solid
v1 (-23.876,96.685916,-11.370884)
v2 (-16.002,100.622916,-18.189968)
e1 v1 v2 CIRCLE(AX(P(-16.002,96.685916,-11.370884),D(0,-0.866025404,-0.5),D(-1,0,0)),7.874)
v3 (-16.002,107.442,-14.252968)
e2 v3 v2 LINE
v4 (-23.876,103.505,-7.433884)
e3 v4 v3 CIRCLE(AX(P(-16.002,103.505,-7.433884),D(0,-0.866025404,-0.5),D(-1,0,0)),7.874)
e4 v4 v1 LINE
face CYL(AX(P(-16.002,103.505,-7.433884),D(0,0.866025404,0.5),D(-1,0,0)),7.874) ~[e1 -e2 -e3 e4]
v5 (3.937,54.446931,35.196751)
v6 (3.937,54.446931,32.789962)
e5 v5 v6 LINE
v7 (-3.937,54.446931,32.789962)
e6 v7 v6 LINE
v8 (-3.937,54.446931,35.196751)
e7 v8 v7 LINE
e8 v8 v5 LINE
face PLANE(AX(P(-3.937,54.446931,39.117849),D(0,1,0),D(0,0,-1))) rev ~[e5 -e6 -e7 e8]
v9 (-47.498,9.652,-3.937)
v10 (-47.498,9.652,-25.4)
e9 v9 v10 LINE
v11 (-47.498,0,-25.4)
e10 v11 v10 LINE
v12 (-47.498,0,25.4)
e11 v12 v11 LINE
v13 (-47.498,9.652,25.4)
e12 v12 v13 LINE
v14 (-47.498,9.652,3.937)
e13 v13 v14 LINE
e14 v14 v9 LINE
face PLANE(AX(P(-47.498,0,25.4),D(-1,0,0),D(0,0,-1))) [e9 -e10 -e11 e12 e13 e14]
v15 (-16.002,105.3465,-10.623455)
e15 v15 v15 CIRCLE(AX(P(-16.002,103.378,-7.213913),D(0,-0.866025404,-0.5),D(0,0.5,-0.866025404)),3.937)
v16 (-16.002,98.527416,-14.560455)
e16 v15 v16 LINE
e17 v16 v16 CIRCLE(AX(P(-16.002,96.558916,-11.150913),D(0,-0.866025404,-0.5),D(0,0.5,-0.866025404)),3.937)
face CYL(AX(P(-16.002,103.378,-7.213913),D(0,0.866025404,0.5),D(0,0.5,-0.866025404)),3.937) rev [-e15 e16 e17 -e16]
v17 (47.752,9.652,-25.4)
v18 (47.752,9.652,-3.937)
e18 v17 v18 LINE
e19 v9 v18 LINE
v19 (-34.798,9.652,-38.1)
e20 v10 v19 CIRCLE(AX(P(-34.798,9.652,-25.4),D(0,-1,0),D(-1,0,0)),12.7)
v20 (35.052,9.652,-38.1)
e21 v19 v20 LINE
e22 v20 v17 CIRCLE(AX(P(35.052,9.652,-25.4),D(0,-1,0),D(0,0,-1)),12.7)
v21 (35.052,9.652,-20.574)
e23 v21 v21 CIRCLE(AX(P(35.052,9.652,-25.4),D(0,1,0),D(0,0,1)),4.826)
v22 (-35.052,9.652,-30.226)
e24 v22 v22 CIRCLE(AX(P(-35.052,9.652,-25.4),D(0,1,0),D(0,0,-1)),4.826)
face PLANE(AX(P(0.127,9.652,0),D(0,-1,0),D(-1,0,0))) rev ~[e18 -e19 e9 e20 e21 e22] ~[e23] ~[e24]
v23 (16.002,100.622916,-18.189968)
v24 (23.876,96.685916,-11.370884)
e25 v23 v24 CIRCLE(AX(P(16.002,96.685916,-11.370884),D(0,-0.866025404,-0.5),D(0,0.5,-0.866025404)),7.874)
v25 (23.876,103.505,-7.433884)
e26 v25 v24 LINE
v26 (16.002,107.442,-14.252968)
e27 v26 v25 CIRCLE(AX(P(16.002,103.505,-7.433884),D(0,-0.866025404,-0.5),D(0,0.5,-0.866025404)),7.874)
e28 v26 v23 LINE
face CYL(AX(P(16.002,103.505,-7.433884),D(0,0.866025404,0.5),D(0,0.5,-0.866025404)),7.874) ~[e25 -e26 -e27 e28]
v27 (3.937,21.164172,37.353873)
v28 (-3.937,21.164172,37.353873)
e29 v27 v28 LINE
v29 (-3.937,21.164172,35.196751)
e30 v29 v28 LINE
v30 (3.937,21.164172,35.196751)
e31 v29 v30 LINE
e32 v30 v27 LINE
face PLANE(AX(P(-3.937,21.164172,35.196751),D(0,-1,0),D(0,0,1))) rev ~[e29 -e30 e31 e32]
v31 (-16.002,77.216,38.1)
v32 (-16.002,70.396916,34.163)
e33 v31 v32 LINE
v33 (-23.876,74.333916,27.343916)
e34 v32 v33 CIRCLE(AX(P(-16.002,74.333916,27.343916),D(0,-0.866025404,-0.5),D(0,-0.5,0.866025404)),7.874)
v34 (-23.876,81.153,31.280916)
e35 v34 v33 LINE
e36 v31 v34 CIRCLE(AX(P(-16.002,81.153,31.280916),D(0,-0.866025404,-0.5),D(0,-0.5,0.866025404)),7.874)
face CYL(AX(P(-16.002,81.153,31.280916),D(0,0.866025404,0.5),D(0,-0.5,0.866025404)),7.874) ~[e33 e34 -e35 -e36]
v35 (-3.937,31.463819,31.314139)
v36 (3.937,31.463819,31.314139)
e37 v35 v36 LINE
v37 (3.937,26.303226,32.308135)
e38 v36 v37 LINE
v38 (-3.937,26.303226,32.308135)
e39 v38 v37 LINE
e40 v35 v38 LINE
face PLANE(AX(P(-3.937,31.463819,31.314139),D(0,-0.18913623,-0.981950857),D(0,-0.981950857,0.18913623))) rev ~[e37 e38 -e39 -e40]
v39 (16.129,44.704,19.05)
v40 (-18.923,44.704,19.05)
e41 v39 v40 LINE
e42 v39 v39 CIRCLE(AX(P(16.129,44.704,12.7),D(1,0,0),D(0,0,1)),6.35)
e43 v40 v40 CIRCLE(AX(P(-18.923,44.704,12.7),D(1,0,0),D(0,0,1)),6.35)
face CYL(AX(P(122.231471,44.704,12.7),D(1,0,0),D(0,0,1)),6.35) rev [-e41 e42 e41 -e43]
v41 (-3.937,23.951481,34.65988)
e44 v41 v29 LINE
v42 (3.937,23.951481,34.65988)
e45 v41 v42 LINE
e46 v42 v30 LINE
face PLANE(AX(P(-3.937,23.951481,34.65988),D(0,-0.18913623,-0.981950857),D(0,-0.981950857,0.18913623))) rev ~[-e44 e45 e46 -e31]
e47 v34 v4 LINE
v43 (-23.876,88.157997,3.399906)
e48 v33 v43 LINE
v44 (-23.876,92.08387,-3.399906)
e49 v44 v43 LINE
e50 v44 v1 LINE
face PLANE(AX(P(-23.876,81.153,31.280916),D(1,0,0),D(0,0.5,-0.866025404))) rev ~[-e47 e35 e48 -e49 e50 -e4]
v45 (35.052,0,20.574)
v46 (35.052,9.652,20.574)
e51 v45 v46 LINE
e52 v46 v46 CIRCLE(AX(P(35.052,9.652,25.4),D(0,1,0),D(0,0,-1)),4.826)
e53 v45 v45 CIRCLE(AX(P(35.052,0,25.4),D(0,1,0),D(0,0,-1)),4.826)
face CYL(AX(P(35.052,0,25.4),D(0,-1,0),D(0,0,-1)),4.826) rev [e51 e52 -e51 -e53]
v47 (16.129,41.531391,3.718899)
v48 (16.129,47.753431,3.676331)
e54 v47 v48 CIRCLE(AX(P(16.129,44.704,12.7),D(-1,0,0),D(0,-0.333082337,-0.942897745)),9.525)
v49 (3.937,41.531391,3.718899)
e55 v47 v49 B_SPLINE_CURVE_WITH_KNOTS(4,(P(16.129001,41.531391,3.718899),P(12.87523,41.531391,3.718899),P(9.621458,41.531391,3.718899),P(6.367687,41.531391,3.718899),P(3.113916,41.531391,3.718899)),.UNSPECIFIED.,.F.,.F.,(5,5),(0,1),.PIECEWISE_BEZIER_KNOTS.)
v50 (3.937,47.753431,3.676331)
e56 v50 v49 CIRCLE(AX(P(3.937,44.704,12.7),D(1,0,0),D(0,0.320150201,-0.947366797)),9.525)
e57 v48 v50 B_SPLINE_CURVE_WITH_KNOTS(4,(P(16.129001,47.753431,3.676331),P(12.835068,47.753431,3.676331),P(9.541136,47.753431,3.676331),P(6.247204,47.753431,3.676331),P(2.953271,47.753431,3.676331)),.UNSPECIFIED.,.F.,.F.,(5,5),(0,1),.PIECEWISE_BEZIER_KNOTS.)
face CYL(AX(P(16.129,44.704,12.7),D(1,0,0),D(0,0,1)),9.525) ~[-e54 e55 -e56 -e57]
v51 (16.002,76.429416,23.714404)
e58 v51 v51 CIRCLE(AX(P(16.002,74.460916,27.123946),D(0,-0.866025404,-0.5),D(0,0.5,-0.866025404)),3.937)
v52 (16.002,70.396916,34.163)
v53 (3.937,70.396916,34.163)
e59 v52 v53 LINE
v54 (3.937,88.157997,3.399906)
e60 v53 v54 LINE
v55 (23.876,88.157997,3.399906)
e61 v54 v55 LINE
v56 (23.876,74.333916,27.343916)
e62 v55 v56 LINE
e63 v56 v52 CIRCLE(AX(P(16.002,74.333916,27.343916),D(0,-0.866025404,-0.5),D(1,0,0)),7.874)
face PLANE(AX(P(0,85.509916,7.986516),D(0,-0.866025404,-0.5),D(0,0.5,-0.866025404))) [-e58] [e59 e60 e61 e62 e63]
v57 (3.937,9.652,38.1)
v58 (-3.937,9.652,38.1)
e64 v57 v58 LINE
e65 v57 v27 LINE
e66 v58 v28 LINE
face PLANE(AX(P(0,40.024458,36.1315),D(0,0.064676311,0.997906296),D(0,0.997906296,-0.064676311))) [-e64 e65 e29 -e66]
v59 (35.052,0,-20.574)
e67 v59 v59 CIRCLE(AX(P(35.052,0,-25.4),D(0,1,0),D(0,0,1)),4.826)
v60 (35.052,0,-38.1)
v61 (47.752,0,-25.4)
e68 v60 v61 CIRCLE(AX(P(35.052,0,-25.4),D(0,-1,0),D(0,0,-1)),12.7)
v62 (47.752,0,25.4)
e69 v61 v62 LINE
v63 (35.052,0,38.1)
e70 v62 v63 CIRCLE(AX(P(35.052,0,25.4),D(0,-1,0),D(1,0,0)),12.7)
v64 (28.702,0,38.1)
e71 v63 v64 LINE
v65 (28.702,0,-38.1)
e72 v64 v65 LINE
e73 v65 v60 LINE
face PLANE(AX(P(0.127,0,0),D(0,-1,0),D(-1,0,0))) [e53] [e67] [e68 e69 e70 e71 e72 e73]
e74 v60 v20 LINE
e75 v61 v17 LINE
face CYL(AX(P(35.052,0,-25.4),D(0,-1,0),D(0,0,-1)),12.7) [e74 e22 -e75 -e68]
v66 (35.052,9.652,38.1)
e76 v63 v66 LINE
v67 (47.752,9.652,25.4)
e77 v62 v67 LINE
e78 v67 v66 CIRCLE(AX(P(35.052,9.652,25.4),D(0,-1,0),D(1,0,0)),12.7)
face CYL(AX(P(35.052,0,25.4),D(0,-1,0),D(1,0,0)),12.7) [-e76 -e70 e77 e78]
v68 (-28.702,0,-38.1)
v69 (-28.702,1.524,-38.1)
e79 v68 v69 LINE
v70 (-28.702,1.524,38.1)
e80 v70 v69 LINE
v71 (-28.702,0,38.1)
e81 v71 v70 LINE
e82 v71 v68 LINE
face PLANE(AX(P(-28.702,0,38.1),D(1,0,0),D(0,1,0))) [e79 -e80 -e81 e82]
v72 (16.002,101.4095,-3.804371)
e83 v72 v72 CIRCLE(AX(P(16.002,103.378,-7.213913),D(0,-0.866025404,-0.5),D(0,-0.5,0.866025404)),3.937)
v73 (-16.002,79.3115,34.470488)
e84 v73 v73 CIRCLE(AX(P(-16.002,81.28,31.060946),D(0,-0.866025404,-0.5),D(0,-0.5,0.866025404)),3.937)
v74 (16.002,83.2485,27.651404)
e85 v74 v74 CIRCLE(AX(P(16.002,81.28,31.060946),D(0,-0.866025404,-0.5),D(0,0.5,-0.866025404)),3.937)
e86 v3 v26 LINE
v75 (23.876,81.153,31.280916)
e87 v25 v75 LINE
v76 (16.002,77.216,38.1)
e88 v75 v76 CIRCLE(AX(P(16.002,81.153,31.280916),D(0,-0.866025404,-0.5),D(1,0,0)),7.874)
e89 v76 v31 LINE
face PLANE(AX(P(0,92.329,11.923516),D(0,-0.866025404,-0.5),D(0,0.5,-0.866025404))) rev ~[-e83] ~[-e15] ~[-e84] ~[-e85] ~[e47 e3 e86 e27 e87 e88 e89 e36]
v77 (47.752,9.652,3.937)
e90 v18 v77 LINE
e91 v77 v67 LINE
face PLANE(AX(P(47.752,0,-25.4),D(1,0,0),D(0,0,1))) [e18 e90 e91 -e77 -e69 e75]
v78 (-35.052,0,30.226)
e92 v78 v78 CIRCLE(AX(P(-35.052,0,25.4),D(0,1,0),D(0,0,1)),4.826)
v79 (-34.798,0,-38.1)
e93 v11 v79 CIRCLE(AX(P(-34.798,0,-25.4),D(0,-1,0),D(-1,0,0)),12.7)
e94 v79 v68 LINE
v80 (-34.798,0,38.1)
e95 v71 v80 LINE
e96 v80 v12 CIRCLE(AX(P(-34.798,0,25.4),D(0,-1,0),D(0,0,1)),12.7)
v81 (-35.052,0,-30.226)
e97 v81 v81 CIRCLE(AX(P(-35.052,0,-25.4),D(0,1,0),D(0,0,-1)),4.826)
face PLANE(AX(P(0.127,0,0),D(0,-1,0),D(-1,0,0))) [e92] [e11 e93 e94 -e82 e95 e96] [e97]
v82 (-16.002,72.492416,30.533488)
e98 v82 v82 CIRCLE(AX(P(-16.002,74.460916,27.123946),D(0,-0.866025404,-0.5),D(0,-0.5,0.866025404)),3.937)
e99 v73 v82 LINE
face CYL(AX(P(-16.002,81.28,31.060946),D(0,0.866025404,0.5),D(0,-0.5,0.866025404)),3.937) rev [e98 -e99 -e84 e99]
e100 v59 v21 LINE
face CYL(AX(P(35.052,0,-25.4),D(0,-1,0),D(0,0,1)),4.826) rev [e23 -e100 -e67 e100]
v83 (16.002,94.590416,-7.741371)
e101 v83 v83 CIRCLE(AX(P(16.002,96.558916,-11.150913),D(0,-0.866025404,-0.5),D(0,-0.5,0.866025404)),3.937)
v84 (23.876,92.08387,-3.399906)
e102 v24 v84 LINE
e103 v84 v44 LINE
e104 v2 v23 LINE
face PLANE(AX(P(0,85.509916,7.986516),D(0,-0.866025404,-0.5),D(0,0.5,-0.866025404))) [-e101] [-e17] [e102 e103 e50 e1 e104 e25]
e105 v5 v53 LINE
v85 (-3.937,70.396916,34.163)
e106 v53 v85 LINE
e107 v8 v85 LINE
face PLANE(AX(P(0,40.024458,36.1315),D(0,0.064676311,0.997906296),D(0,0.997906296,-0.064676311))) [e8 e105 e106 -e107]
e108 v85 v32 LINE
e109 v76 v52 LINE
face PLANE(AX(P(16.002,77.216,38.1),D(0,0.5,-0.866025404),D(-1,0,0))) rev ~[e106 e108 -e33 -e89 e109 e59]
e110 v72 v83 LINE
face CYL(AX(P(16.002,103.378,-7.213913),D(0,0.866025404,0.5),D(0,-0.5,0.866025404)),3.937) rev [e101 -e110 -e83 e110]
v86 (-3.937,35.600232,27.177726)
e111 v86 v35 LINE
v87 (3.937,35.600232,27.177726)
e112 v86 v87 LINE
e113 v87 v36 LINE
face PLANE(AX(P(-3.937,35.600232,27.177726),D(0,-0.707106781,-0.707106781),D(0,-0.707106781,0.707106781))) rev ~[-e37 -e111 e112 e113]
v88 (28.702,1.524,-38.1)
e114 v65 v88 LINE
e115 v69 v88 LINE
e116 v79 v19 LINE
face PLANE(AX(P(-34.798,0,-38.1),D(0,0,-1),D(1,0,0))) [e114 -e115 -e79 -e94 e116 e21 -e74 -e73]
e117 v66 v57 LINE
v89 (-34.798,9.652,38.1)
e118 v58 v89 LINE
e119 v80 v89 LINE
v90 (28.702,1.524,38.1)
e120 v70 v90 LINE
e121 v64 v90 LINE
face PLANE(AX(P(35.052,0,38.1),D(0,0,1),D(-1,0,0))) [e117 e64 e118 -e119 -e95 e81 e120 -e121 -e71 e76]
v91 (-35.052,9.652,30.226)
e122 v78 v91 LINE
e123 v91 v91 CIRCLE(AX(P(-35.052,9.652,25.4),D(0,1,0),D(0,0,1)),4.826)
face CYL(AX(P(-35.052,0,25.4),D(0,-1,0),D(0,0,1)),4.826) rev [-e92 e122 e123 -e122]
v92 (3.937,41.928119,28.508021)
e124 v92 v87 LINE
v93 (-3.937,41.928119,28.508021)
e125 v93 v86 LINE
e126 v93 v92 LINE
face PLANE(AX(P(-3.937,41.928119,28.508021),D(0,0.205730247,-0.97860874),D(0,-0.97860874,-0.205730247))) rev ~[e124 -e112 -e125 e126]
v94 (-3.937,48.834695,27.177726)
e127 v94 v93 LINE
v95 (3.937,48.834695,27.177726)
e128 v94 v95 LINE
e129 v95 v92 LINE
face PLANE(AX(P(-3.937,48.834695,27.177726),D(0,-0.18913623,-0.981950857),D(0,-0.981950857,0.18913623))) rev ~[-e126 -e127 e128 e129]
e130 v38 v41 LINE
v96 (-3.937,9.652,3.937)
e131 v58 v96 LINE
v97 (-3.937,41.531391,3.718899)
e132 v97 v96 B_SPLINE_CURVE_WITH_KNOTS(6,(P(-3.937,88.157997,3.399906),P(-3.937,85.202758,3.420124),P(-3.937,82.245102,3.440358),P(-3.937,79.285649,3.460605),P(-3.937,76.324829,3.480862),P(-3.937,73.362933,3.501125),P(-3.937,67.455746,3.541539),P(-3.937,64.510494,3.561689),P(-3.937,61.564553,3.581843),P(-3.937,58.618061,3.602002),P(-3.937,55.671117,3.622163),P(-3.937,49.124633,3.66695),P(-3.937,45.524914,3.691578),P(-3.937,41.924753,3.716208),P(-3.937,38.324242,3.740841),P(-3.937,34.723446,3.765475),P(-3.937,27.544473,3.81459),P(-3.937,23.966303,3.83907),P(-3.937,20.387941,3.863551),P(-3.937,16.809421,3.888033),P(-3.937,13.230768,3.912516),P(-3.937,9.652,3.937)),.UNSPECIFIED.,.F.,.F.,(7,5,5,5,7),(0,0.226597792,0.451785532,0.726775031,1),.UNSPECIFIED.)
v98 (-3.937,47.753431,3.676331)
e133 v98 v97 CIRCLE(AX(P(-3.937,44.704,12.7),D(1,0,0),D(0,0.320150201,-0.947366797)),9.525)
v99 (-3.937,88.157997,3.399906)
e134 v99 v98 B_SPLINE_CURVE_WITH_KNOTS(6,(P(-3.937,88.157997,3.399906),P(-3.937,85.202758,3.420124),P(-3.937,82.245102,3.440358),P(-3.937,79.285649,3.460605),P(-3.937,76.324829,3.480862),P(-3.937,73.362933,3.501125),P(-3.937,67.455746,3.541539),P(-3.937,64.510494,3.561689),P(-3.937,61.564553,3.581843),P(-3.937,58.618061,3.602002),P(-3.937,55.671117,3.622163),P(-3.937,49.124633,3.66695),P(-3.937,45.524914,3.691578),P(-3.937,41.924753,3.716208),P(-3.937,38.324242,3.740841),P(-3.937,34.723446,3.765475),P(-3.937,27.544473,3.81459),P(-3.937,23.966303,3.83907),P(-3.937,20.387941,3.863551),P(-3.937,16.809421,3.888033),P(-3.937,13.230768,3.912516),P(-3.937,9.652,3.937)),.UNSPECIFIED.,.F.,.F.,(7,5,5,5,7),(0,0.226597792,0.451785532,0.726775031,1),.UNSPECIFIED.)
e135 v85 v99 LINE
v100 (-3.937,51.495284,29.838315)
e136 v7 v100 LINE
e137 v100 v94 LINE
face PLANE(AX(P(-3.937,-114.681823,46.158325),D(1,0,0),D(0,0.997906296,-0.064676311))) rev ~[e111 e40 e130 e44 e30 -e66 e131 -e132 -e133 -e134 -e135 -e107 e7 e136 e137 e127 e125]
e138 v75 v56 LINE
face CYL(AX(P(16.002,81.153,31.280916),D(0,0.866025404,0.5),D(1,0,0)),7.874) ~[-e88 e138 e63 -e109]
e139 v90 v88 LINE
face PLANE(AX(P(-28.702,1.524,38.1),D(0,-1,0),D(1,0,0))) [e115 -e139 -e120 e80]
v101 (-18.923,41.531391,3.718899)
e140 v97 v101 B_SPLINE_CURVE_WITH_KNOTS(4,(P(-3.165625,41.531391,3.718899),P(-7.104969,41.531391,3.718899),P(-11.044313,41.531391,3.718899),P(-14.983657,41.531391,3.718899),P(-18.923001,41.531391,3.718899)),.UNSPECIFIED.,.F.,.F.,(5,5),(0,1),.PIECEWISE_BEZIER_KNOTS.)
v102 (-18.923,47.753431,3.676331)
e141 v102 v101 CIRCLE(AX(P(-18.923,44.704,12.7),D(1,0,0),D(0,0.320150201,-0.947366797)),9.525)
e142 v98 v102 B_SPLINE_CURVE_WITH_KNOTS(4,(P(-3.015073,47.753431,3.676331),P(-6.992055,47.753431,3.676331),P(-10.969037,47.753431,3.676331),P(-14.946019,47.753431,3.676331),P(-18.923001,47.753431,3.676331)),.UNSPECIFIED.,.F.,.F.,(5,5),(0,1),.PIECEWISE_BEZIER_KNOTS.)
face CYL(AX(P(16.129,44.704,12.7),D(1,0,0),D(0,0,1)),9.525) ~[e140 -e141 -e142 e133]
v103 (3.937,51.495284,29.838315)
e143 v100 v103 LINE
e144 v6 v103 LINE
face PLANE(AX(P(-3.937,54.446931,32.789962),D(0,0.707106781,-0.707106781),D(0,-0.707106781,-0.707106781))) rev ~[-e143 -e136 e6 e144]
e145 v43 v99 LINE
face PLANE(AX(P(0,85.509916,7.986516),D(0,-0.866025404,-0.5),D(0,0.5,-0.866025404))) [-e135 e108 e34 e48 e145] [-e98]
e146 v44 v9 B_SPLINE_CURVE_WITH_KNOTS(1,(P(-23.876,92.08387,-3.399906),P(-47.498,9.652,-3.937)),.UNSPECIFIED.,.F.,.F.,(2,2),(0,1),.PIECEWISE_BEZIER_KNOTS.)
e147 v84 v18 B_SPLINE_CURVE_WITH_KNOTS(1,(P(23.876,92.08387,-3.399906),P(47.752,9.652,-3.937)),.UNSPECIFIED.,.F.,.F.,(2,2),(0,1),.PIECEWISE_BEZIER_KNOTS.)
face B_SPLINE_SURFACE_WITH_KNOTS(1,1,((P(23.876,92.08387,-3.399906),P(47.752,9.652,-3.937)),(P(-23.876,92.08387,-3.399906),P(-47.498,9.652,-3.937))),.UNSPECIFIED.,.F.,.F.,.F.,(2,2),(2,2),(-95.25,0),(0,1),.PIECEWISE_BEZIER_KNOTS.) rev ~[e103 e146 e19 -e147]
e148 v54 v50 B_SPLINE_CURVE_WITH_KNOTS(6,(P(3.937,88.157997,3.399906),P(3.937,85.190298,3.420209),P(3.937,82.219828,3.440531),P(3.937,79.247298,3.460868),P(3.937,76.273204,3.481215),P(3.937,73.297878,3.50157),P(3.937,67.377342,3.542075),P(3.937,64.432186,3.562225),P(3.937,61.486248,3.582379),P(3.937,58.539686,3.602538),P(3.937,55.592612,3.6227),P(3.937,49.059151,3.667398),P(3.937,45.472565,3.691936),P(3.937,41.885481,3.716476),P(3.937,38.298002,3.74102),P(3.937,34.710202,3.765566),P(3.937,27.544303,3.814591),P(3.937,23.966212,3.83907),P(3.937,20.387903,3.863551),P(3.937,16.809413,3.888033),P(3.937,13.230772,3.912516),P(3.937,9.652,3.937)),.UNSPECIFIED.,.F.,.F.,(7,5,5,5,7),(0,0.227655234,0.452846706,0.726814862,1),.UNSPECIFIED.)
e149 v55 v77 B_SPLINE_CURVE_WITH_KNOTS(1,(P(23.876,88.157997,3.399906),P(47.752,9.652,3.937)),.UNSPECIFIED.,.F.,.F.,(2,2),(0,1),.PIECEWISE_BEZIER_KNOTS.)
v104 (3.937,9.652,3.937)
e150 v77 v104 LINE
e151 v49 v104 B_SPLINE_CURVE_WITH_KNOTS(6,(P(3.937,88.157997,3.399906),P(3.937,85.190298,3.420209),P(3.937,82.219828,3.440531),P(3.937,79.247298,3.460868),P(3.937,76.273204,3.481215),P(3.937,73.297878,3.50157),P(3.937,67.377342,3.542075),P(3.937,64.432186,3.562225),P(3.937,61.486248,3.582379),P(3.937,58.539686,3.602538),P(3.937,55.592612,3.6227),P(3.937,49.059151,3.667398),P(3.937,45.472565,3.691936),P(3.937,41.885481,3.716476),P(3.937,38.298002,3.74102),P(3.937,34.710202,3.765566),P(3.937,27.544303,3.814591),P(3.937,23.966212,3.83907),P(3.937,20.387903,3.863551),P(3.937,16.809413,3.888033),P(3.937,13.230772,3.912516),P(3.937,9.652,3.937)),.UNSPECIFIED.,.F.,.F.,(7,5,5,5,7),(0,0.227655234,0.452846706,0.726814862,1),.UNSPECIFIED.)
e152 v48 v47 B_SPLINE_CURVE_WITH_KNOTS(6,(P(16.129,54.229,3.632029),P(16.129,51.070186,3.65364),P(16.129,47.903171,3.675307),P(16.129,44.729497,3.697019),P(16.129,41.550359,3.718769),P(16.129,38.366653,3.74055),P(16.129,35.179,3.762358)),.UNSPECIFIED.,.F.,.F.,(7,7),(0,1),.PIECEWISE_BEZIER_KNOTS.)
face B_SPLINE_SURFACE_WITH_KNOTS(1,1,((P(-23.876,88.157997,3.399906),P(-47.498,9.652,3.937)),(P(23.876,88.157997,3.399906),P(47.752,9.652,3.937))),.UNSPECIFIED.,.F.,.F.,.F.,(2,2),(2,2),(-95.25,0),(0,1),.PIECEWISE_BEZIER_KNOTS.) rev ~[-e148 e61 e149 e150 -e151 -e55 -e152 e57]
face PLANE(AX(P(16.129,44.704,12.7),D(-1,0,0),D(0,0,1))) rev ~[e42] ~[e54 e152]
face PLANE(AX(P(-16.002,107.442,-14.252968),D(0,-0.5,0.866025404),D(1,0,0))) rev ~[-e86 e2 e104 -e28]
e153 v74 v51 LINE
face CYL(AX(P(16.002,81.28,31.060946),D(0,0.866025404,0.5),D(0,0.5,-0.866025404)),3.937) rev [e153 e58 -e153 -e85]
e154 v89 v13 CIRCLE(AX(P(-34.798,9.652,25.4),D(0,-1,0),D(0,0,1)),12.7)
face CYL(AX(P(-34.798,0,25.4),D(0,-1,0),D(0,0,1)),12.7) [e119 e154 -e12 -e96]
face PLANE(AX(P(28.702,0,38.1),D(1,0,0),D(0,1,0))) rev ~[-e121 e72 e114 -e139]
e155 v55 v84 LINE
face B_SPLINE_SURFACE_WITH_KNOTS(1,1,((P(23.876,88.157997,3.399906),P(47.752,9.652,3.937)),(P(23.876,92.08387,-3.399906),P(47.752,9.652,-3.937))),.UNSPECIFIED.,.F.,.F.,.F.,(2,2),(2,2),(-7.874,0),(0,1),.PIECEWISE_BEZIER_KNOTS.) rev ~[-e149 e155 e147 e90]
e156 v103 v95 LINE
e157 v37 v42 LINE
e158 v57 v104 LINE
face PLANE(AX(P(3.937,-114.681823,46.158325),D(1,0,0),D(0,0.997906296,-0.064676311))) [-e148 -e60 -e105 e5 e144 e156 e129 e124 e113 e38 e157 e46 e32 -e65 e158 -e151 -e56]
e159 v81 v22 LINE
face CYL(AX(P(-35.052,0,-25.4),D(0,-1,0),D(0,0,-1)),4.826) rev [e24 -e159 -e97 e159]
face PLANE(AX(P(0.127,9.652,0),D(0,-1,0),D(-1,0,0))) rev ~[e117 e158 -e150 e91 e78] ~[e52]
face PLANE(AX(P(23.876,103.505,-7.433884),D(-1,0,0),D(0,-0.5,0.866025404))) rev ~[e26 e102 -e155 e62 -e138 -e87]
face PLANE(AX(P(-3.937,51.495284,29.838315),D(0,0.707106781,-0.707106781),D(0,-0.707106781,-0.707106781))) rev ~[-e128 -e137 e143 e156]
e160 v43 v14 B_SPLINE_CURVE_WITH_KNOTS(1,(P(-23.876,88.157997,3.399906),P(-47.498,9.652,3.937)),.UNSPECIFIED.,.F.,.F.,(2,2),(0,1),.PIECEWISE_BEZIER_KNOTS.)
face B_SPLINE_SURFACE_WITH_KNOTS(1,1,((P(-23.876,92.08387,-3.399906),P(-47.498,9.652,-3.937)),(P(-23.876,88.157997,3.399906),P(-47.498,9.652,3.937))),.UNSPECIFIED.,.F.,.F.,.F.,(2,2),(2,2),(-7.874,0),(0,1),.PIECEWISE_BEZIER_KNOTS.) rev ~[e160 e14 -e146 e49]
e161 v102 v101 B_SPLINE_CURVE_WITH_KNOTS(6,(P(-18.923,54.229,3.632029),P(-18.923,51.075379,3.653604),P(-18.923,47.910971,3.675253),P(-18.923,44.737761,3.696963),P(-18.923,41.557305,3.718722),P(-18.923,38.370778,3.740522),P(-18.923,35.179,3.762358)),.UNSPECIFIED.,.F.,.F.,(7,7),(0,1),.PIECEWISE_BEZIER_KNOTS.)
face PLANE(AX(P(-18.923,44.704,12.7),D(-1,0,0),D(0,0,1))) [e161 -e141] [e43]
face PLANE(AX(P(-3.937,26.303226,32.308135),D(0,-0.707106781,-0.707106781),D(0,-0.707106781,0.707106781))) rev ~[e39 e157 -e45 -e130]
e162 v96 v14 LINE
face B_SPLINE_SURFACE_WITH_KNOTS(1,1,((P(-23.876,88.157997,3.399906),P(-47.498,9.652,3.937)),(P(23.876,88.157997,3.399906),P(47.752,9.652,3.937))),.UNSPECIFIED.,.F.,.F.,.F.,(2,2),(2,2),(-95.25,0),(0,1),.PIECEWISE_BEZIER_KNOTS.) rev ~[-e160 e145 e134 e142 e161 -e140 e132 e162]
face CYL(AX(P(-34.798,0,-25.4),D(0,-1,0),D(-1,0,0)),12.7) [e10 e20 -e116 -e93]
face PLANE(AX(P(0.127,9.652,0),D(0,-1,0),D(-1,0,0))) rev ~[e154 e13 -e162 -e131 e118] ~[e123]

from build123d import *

# Parameters (mm, degrees)
SKETCH2_R                = 4.826
BOSS_EXTRUDE1_DEPTH      = 9.652
CUT_EXTRUDE1_REACH       = 92.443
SKETCH4_W                = 57.404
SKETCH4_H                = 1.524
SKETCH7_R                = 3.937
BOSS_EXTRUDE2_DEPTH      = 7.874
RIB1_REACH               = 125.595
SKETCH11_WALL_W          = 310.061740512
SKETCH11_WALL_H          = 7.874
BOSS_EXTRUDE3_DEPTH      = 14.986
BOSS_EXTRUDE3_DEPTH_BACK = 20.066
SKETCH12_R               = 9.525
CUT_EXTRUDE2_DEPTH       = 126.168470882
CUT_EXTRUDE2_DEPTH_BACK  = 126.168470882
SKETCH12_3_R             = 6.35
CUT_EXTRUDE3_REACH       = 127.168


with BuildPart() as part:
    # Sketch2 → Boss-Extrude1 (new body)
    with BuildSketch(Plane(origin=(0, 0, 0), x_dir=(1, 0, 0), z_dir=(0, 1, 0))):
        with BuildLine():
            Line((35.052, -38.1), (-34.798, -38.1))
            ThreePointArc((-34.798, -38.1), (-43.778256121, -34.380256121), (-47.498, -25.4))
            Line((-47.498, -25.4), (-47.498, 25.4))
            ThreePointArc((-47.498, 25.4), (-43.778256121, 34.380256121), (-34.798, 38.1))
            Line((-34.798, 38.1), (35.052, 38.1))
            ThreePointArc((35.052, 38.1), (44.032256121, 34.380256121), (47.752, 25.4))
            Line((47.752, 25.4), (47.752, -25.4))
            ThreePointArc((47.752, -25.4), (44.032256121, -34.380256121), (35.052, -38.1))
        make_face()
        with Locations((35.052, 25.4)):
            Circle(SKETCH2_R, mode=Mode.SUBTRACT)
        with Locations((35.052, -25.4)):
            Circle(SKETCH2_R, mode=Mode.SUBTRACT)
        with Locations((-35.052, -25.4)):
            Circle(SKETCH2_R, mode=Mode.SUBTRACT)
        with Locations((-35.052, 25.4)):
            Circle(SKETCH2_R, mode=Mode.SUBTRACT)
    extrude(amount=BOSS_EXTRUDE1_DEPTH)

    # Sketch4 → Cut-Extrude1 (cut, up to next)
    with BuildSketch(Plane.XY.offset(38.1), mode=Mode.PRIVATE) as cut_extrude1_sk1:
        with Locations((0, 0.762)):
            Rectangle(SKETCH4_W, SKETCH4_H)
    cut_extrude1_tool1 = extrude(cut_extrude1_sk1.sketch, amount=-CUT_EXTRUDE1_REACH, mode=Mode.PRIVATE) & part.part
    add(cut_extrude1_tool1.solids().sort_by_distance((0, 0.762, 38.1))[0], mode=Mode.SUBTRACT)



with BuildPart() as body_2:
    # Sketch7 → Boss-Extrude2 (new body)
    with BuildSketch(Plane(origin=(0, 74.409783942, 42.960508789), x_dir=(0, 0.499999999999998, -0.8660254037844398), z_dir=(0, -0.8660254037844398, -0.499999999999998))):
        with BuildLine():
            Line((13.486432116, -23.876), (58.190432116, -23.876))
            ThreePointArc((58.190432116, -23.876), (63.758190911, -21.569758795), (66.064432116, -16.002))
            Line((66.064432116, -16.002), (66.064432116, 16.002))
            ThreePointArc((66.064432116, 16.002), (63.758190911, 21.569758795), (58.190432116, 23.876))
            Line((58.190432116, 23.876), (13.486432116, 23.876))
            ThreePointArc((13.486432116, 23.876), (7.918673321, 21.569758795), (5.612432116, 16.002))
            Line((5.612432116, 16.002), (5.612432116, -16.002))
            ThreePointArc((5.612432116, -16.002), (7.918673321, -21.569758795), (13.486432116, -23.876))
        make_face()
        with Locations((13.740432116, 16.002)):
            Circle(SKETCH7_R, mode=Mode.SUBTRACT)
        with Locations((13.740432116, -16.002)):
            Circle(SKETCH7_R, mode=Mode.SUBTRACT)
        with Locations((57.936432116, -16.002)):
            Circle(SKETCH7_R, mode=Mode.SUBTRACT)
        with Locations((57.936432116, 16.002)):
            Circle(SKETCH7_R, mode=Mode.SUBTRACT)
    extrude(amount=BOSS_EXTRUDE2_DEPTH)


with BuildPart() as part_1:
    add(part.part)

    add(body_2.part)  # Loft1 merges body 2
    # Sketch10 → Loft1 section 0
    with BuildSketch(Plane(origin=(0, 67.590699913, 39.023508789), x_dir=(1, 0, 0), z_dir=(0, -0.8660254037844398, -0.49999999999999806))):
        with BuildLine():
            Line((23.876, -48.986339597), (-23.876, -48.986339597))
            Line((-23.876, -48.986339597), (-23.876, -41.13459362))
            Line((-23.876, -41.13459362), (23.876, -41.13459362))
            Line((23.876, -41.13459362), (23.876, -48.986339597))
        make_face()
    # Sketch8 → Loft1 section 1
    with BuildSketch(Plane(origin=(0, 9.652, 0), x_dir=(1, 0, 0), z_dir=(0, 1, 0))):
        with BuildLine():
            Line((47.752, -3.937), (-47.498, -3.937))
            Line((-47.498, -3.937), (-47.498, 3.937))
            Line((-47.498, 3.937), (47.752, 3.937))
            Line((47.752, 3.937), (47.752, -3.937))
        make_face()
    loft()

    # Sketch11 wall → Rib1 (add, up to next)
    with BuildSketch(Plane(origin=(0, 40.024457985, 36.1315), x_dir=(0, 0.997906295589, -0.064676311144), z_dir=(0, 0.064676311144, 0.997906295589)), mode=Mode.PRIVATE) as rib1_sk1:
        Rectangle(SKETCH11_WALL_W, SKETCH11_WALL_H)
    rib1_tool1 = extrude(rib1_sk1.sketch, amount=-RIB1_REACH, mode=Mode.PRIVATE) - part_1.part
    add(rib1_tool1.solids().sort_by_distance((0, 40.024457985, 36.1315))[0])

    # Sketch12 → Boss-Extrude3 (add, two sides: drawn at the far end of the back side and taken through both)
    with BuildSketch(Plane.ZY.offset(3.937).offset(-BOSS_EXTRUDE3_DEPTH_BACK)):
        with Locations((12.7, 44.704)):
            Circle(SKETCH12_R)
    extrude(amount=BOSS_EXTRUDE3_DEPTH + BOSS_EXTRUDE3_DEPTH_BACK)

    # Sketch12<3> → Cut-Extrude2 (cut, two sides: drawn at the far end of the back side and taken through both)
    with BuildSketch(Plane.ZY.offset(3.937).offset(-CUT_EXTRUDE2_DEPTH_BACK)):
        with Locations((12.7, 44.704)):
            Circle(SKETCH12_3_R)
    extrude(amount=CUT_EXTRUDE2_DEPTH + CUT_EXTRUDE2_DEPTH_BACK, mode=Mode.SUBTRACT)

    # Sketch13 → Cut-Extrude3 (cut, up to next)
    with BuildSketch(Plane.ZY.offset(3.937), mode=Mode.PRIVATE) as cut_extrude3_sk1:
        Polygon((32.789961939, 54.446931247), (29.83831511, 51.495284418), (27.177726093, 48.8346954), (28.508020602, 41.928118952), (27.177726093, 35.60023156), (31.314138525, 31.463819128), (32.308134502, 26.303225622), (34.659879511, 23.951480612), (35.196750543, 21.164172387), (41.131268047, 21.164172387), (39.117849331, 54.446931247), align=None)
    cut_extrude3_tool1 = extrude(cut_extrude3_sk1.sketch, amount=-CUT_EXTRUDE3_REACH, mode=Mode.PRIVATE) & part_1.part
    add(cut_extrude3_tool1.solids().sort_by_distance((-3.937, 38.754988, 34.773506))[0], mode=Mode.SUBTRACT)


solid = part_1.part
